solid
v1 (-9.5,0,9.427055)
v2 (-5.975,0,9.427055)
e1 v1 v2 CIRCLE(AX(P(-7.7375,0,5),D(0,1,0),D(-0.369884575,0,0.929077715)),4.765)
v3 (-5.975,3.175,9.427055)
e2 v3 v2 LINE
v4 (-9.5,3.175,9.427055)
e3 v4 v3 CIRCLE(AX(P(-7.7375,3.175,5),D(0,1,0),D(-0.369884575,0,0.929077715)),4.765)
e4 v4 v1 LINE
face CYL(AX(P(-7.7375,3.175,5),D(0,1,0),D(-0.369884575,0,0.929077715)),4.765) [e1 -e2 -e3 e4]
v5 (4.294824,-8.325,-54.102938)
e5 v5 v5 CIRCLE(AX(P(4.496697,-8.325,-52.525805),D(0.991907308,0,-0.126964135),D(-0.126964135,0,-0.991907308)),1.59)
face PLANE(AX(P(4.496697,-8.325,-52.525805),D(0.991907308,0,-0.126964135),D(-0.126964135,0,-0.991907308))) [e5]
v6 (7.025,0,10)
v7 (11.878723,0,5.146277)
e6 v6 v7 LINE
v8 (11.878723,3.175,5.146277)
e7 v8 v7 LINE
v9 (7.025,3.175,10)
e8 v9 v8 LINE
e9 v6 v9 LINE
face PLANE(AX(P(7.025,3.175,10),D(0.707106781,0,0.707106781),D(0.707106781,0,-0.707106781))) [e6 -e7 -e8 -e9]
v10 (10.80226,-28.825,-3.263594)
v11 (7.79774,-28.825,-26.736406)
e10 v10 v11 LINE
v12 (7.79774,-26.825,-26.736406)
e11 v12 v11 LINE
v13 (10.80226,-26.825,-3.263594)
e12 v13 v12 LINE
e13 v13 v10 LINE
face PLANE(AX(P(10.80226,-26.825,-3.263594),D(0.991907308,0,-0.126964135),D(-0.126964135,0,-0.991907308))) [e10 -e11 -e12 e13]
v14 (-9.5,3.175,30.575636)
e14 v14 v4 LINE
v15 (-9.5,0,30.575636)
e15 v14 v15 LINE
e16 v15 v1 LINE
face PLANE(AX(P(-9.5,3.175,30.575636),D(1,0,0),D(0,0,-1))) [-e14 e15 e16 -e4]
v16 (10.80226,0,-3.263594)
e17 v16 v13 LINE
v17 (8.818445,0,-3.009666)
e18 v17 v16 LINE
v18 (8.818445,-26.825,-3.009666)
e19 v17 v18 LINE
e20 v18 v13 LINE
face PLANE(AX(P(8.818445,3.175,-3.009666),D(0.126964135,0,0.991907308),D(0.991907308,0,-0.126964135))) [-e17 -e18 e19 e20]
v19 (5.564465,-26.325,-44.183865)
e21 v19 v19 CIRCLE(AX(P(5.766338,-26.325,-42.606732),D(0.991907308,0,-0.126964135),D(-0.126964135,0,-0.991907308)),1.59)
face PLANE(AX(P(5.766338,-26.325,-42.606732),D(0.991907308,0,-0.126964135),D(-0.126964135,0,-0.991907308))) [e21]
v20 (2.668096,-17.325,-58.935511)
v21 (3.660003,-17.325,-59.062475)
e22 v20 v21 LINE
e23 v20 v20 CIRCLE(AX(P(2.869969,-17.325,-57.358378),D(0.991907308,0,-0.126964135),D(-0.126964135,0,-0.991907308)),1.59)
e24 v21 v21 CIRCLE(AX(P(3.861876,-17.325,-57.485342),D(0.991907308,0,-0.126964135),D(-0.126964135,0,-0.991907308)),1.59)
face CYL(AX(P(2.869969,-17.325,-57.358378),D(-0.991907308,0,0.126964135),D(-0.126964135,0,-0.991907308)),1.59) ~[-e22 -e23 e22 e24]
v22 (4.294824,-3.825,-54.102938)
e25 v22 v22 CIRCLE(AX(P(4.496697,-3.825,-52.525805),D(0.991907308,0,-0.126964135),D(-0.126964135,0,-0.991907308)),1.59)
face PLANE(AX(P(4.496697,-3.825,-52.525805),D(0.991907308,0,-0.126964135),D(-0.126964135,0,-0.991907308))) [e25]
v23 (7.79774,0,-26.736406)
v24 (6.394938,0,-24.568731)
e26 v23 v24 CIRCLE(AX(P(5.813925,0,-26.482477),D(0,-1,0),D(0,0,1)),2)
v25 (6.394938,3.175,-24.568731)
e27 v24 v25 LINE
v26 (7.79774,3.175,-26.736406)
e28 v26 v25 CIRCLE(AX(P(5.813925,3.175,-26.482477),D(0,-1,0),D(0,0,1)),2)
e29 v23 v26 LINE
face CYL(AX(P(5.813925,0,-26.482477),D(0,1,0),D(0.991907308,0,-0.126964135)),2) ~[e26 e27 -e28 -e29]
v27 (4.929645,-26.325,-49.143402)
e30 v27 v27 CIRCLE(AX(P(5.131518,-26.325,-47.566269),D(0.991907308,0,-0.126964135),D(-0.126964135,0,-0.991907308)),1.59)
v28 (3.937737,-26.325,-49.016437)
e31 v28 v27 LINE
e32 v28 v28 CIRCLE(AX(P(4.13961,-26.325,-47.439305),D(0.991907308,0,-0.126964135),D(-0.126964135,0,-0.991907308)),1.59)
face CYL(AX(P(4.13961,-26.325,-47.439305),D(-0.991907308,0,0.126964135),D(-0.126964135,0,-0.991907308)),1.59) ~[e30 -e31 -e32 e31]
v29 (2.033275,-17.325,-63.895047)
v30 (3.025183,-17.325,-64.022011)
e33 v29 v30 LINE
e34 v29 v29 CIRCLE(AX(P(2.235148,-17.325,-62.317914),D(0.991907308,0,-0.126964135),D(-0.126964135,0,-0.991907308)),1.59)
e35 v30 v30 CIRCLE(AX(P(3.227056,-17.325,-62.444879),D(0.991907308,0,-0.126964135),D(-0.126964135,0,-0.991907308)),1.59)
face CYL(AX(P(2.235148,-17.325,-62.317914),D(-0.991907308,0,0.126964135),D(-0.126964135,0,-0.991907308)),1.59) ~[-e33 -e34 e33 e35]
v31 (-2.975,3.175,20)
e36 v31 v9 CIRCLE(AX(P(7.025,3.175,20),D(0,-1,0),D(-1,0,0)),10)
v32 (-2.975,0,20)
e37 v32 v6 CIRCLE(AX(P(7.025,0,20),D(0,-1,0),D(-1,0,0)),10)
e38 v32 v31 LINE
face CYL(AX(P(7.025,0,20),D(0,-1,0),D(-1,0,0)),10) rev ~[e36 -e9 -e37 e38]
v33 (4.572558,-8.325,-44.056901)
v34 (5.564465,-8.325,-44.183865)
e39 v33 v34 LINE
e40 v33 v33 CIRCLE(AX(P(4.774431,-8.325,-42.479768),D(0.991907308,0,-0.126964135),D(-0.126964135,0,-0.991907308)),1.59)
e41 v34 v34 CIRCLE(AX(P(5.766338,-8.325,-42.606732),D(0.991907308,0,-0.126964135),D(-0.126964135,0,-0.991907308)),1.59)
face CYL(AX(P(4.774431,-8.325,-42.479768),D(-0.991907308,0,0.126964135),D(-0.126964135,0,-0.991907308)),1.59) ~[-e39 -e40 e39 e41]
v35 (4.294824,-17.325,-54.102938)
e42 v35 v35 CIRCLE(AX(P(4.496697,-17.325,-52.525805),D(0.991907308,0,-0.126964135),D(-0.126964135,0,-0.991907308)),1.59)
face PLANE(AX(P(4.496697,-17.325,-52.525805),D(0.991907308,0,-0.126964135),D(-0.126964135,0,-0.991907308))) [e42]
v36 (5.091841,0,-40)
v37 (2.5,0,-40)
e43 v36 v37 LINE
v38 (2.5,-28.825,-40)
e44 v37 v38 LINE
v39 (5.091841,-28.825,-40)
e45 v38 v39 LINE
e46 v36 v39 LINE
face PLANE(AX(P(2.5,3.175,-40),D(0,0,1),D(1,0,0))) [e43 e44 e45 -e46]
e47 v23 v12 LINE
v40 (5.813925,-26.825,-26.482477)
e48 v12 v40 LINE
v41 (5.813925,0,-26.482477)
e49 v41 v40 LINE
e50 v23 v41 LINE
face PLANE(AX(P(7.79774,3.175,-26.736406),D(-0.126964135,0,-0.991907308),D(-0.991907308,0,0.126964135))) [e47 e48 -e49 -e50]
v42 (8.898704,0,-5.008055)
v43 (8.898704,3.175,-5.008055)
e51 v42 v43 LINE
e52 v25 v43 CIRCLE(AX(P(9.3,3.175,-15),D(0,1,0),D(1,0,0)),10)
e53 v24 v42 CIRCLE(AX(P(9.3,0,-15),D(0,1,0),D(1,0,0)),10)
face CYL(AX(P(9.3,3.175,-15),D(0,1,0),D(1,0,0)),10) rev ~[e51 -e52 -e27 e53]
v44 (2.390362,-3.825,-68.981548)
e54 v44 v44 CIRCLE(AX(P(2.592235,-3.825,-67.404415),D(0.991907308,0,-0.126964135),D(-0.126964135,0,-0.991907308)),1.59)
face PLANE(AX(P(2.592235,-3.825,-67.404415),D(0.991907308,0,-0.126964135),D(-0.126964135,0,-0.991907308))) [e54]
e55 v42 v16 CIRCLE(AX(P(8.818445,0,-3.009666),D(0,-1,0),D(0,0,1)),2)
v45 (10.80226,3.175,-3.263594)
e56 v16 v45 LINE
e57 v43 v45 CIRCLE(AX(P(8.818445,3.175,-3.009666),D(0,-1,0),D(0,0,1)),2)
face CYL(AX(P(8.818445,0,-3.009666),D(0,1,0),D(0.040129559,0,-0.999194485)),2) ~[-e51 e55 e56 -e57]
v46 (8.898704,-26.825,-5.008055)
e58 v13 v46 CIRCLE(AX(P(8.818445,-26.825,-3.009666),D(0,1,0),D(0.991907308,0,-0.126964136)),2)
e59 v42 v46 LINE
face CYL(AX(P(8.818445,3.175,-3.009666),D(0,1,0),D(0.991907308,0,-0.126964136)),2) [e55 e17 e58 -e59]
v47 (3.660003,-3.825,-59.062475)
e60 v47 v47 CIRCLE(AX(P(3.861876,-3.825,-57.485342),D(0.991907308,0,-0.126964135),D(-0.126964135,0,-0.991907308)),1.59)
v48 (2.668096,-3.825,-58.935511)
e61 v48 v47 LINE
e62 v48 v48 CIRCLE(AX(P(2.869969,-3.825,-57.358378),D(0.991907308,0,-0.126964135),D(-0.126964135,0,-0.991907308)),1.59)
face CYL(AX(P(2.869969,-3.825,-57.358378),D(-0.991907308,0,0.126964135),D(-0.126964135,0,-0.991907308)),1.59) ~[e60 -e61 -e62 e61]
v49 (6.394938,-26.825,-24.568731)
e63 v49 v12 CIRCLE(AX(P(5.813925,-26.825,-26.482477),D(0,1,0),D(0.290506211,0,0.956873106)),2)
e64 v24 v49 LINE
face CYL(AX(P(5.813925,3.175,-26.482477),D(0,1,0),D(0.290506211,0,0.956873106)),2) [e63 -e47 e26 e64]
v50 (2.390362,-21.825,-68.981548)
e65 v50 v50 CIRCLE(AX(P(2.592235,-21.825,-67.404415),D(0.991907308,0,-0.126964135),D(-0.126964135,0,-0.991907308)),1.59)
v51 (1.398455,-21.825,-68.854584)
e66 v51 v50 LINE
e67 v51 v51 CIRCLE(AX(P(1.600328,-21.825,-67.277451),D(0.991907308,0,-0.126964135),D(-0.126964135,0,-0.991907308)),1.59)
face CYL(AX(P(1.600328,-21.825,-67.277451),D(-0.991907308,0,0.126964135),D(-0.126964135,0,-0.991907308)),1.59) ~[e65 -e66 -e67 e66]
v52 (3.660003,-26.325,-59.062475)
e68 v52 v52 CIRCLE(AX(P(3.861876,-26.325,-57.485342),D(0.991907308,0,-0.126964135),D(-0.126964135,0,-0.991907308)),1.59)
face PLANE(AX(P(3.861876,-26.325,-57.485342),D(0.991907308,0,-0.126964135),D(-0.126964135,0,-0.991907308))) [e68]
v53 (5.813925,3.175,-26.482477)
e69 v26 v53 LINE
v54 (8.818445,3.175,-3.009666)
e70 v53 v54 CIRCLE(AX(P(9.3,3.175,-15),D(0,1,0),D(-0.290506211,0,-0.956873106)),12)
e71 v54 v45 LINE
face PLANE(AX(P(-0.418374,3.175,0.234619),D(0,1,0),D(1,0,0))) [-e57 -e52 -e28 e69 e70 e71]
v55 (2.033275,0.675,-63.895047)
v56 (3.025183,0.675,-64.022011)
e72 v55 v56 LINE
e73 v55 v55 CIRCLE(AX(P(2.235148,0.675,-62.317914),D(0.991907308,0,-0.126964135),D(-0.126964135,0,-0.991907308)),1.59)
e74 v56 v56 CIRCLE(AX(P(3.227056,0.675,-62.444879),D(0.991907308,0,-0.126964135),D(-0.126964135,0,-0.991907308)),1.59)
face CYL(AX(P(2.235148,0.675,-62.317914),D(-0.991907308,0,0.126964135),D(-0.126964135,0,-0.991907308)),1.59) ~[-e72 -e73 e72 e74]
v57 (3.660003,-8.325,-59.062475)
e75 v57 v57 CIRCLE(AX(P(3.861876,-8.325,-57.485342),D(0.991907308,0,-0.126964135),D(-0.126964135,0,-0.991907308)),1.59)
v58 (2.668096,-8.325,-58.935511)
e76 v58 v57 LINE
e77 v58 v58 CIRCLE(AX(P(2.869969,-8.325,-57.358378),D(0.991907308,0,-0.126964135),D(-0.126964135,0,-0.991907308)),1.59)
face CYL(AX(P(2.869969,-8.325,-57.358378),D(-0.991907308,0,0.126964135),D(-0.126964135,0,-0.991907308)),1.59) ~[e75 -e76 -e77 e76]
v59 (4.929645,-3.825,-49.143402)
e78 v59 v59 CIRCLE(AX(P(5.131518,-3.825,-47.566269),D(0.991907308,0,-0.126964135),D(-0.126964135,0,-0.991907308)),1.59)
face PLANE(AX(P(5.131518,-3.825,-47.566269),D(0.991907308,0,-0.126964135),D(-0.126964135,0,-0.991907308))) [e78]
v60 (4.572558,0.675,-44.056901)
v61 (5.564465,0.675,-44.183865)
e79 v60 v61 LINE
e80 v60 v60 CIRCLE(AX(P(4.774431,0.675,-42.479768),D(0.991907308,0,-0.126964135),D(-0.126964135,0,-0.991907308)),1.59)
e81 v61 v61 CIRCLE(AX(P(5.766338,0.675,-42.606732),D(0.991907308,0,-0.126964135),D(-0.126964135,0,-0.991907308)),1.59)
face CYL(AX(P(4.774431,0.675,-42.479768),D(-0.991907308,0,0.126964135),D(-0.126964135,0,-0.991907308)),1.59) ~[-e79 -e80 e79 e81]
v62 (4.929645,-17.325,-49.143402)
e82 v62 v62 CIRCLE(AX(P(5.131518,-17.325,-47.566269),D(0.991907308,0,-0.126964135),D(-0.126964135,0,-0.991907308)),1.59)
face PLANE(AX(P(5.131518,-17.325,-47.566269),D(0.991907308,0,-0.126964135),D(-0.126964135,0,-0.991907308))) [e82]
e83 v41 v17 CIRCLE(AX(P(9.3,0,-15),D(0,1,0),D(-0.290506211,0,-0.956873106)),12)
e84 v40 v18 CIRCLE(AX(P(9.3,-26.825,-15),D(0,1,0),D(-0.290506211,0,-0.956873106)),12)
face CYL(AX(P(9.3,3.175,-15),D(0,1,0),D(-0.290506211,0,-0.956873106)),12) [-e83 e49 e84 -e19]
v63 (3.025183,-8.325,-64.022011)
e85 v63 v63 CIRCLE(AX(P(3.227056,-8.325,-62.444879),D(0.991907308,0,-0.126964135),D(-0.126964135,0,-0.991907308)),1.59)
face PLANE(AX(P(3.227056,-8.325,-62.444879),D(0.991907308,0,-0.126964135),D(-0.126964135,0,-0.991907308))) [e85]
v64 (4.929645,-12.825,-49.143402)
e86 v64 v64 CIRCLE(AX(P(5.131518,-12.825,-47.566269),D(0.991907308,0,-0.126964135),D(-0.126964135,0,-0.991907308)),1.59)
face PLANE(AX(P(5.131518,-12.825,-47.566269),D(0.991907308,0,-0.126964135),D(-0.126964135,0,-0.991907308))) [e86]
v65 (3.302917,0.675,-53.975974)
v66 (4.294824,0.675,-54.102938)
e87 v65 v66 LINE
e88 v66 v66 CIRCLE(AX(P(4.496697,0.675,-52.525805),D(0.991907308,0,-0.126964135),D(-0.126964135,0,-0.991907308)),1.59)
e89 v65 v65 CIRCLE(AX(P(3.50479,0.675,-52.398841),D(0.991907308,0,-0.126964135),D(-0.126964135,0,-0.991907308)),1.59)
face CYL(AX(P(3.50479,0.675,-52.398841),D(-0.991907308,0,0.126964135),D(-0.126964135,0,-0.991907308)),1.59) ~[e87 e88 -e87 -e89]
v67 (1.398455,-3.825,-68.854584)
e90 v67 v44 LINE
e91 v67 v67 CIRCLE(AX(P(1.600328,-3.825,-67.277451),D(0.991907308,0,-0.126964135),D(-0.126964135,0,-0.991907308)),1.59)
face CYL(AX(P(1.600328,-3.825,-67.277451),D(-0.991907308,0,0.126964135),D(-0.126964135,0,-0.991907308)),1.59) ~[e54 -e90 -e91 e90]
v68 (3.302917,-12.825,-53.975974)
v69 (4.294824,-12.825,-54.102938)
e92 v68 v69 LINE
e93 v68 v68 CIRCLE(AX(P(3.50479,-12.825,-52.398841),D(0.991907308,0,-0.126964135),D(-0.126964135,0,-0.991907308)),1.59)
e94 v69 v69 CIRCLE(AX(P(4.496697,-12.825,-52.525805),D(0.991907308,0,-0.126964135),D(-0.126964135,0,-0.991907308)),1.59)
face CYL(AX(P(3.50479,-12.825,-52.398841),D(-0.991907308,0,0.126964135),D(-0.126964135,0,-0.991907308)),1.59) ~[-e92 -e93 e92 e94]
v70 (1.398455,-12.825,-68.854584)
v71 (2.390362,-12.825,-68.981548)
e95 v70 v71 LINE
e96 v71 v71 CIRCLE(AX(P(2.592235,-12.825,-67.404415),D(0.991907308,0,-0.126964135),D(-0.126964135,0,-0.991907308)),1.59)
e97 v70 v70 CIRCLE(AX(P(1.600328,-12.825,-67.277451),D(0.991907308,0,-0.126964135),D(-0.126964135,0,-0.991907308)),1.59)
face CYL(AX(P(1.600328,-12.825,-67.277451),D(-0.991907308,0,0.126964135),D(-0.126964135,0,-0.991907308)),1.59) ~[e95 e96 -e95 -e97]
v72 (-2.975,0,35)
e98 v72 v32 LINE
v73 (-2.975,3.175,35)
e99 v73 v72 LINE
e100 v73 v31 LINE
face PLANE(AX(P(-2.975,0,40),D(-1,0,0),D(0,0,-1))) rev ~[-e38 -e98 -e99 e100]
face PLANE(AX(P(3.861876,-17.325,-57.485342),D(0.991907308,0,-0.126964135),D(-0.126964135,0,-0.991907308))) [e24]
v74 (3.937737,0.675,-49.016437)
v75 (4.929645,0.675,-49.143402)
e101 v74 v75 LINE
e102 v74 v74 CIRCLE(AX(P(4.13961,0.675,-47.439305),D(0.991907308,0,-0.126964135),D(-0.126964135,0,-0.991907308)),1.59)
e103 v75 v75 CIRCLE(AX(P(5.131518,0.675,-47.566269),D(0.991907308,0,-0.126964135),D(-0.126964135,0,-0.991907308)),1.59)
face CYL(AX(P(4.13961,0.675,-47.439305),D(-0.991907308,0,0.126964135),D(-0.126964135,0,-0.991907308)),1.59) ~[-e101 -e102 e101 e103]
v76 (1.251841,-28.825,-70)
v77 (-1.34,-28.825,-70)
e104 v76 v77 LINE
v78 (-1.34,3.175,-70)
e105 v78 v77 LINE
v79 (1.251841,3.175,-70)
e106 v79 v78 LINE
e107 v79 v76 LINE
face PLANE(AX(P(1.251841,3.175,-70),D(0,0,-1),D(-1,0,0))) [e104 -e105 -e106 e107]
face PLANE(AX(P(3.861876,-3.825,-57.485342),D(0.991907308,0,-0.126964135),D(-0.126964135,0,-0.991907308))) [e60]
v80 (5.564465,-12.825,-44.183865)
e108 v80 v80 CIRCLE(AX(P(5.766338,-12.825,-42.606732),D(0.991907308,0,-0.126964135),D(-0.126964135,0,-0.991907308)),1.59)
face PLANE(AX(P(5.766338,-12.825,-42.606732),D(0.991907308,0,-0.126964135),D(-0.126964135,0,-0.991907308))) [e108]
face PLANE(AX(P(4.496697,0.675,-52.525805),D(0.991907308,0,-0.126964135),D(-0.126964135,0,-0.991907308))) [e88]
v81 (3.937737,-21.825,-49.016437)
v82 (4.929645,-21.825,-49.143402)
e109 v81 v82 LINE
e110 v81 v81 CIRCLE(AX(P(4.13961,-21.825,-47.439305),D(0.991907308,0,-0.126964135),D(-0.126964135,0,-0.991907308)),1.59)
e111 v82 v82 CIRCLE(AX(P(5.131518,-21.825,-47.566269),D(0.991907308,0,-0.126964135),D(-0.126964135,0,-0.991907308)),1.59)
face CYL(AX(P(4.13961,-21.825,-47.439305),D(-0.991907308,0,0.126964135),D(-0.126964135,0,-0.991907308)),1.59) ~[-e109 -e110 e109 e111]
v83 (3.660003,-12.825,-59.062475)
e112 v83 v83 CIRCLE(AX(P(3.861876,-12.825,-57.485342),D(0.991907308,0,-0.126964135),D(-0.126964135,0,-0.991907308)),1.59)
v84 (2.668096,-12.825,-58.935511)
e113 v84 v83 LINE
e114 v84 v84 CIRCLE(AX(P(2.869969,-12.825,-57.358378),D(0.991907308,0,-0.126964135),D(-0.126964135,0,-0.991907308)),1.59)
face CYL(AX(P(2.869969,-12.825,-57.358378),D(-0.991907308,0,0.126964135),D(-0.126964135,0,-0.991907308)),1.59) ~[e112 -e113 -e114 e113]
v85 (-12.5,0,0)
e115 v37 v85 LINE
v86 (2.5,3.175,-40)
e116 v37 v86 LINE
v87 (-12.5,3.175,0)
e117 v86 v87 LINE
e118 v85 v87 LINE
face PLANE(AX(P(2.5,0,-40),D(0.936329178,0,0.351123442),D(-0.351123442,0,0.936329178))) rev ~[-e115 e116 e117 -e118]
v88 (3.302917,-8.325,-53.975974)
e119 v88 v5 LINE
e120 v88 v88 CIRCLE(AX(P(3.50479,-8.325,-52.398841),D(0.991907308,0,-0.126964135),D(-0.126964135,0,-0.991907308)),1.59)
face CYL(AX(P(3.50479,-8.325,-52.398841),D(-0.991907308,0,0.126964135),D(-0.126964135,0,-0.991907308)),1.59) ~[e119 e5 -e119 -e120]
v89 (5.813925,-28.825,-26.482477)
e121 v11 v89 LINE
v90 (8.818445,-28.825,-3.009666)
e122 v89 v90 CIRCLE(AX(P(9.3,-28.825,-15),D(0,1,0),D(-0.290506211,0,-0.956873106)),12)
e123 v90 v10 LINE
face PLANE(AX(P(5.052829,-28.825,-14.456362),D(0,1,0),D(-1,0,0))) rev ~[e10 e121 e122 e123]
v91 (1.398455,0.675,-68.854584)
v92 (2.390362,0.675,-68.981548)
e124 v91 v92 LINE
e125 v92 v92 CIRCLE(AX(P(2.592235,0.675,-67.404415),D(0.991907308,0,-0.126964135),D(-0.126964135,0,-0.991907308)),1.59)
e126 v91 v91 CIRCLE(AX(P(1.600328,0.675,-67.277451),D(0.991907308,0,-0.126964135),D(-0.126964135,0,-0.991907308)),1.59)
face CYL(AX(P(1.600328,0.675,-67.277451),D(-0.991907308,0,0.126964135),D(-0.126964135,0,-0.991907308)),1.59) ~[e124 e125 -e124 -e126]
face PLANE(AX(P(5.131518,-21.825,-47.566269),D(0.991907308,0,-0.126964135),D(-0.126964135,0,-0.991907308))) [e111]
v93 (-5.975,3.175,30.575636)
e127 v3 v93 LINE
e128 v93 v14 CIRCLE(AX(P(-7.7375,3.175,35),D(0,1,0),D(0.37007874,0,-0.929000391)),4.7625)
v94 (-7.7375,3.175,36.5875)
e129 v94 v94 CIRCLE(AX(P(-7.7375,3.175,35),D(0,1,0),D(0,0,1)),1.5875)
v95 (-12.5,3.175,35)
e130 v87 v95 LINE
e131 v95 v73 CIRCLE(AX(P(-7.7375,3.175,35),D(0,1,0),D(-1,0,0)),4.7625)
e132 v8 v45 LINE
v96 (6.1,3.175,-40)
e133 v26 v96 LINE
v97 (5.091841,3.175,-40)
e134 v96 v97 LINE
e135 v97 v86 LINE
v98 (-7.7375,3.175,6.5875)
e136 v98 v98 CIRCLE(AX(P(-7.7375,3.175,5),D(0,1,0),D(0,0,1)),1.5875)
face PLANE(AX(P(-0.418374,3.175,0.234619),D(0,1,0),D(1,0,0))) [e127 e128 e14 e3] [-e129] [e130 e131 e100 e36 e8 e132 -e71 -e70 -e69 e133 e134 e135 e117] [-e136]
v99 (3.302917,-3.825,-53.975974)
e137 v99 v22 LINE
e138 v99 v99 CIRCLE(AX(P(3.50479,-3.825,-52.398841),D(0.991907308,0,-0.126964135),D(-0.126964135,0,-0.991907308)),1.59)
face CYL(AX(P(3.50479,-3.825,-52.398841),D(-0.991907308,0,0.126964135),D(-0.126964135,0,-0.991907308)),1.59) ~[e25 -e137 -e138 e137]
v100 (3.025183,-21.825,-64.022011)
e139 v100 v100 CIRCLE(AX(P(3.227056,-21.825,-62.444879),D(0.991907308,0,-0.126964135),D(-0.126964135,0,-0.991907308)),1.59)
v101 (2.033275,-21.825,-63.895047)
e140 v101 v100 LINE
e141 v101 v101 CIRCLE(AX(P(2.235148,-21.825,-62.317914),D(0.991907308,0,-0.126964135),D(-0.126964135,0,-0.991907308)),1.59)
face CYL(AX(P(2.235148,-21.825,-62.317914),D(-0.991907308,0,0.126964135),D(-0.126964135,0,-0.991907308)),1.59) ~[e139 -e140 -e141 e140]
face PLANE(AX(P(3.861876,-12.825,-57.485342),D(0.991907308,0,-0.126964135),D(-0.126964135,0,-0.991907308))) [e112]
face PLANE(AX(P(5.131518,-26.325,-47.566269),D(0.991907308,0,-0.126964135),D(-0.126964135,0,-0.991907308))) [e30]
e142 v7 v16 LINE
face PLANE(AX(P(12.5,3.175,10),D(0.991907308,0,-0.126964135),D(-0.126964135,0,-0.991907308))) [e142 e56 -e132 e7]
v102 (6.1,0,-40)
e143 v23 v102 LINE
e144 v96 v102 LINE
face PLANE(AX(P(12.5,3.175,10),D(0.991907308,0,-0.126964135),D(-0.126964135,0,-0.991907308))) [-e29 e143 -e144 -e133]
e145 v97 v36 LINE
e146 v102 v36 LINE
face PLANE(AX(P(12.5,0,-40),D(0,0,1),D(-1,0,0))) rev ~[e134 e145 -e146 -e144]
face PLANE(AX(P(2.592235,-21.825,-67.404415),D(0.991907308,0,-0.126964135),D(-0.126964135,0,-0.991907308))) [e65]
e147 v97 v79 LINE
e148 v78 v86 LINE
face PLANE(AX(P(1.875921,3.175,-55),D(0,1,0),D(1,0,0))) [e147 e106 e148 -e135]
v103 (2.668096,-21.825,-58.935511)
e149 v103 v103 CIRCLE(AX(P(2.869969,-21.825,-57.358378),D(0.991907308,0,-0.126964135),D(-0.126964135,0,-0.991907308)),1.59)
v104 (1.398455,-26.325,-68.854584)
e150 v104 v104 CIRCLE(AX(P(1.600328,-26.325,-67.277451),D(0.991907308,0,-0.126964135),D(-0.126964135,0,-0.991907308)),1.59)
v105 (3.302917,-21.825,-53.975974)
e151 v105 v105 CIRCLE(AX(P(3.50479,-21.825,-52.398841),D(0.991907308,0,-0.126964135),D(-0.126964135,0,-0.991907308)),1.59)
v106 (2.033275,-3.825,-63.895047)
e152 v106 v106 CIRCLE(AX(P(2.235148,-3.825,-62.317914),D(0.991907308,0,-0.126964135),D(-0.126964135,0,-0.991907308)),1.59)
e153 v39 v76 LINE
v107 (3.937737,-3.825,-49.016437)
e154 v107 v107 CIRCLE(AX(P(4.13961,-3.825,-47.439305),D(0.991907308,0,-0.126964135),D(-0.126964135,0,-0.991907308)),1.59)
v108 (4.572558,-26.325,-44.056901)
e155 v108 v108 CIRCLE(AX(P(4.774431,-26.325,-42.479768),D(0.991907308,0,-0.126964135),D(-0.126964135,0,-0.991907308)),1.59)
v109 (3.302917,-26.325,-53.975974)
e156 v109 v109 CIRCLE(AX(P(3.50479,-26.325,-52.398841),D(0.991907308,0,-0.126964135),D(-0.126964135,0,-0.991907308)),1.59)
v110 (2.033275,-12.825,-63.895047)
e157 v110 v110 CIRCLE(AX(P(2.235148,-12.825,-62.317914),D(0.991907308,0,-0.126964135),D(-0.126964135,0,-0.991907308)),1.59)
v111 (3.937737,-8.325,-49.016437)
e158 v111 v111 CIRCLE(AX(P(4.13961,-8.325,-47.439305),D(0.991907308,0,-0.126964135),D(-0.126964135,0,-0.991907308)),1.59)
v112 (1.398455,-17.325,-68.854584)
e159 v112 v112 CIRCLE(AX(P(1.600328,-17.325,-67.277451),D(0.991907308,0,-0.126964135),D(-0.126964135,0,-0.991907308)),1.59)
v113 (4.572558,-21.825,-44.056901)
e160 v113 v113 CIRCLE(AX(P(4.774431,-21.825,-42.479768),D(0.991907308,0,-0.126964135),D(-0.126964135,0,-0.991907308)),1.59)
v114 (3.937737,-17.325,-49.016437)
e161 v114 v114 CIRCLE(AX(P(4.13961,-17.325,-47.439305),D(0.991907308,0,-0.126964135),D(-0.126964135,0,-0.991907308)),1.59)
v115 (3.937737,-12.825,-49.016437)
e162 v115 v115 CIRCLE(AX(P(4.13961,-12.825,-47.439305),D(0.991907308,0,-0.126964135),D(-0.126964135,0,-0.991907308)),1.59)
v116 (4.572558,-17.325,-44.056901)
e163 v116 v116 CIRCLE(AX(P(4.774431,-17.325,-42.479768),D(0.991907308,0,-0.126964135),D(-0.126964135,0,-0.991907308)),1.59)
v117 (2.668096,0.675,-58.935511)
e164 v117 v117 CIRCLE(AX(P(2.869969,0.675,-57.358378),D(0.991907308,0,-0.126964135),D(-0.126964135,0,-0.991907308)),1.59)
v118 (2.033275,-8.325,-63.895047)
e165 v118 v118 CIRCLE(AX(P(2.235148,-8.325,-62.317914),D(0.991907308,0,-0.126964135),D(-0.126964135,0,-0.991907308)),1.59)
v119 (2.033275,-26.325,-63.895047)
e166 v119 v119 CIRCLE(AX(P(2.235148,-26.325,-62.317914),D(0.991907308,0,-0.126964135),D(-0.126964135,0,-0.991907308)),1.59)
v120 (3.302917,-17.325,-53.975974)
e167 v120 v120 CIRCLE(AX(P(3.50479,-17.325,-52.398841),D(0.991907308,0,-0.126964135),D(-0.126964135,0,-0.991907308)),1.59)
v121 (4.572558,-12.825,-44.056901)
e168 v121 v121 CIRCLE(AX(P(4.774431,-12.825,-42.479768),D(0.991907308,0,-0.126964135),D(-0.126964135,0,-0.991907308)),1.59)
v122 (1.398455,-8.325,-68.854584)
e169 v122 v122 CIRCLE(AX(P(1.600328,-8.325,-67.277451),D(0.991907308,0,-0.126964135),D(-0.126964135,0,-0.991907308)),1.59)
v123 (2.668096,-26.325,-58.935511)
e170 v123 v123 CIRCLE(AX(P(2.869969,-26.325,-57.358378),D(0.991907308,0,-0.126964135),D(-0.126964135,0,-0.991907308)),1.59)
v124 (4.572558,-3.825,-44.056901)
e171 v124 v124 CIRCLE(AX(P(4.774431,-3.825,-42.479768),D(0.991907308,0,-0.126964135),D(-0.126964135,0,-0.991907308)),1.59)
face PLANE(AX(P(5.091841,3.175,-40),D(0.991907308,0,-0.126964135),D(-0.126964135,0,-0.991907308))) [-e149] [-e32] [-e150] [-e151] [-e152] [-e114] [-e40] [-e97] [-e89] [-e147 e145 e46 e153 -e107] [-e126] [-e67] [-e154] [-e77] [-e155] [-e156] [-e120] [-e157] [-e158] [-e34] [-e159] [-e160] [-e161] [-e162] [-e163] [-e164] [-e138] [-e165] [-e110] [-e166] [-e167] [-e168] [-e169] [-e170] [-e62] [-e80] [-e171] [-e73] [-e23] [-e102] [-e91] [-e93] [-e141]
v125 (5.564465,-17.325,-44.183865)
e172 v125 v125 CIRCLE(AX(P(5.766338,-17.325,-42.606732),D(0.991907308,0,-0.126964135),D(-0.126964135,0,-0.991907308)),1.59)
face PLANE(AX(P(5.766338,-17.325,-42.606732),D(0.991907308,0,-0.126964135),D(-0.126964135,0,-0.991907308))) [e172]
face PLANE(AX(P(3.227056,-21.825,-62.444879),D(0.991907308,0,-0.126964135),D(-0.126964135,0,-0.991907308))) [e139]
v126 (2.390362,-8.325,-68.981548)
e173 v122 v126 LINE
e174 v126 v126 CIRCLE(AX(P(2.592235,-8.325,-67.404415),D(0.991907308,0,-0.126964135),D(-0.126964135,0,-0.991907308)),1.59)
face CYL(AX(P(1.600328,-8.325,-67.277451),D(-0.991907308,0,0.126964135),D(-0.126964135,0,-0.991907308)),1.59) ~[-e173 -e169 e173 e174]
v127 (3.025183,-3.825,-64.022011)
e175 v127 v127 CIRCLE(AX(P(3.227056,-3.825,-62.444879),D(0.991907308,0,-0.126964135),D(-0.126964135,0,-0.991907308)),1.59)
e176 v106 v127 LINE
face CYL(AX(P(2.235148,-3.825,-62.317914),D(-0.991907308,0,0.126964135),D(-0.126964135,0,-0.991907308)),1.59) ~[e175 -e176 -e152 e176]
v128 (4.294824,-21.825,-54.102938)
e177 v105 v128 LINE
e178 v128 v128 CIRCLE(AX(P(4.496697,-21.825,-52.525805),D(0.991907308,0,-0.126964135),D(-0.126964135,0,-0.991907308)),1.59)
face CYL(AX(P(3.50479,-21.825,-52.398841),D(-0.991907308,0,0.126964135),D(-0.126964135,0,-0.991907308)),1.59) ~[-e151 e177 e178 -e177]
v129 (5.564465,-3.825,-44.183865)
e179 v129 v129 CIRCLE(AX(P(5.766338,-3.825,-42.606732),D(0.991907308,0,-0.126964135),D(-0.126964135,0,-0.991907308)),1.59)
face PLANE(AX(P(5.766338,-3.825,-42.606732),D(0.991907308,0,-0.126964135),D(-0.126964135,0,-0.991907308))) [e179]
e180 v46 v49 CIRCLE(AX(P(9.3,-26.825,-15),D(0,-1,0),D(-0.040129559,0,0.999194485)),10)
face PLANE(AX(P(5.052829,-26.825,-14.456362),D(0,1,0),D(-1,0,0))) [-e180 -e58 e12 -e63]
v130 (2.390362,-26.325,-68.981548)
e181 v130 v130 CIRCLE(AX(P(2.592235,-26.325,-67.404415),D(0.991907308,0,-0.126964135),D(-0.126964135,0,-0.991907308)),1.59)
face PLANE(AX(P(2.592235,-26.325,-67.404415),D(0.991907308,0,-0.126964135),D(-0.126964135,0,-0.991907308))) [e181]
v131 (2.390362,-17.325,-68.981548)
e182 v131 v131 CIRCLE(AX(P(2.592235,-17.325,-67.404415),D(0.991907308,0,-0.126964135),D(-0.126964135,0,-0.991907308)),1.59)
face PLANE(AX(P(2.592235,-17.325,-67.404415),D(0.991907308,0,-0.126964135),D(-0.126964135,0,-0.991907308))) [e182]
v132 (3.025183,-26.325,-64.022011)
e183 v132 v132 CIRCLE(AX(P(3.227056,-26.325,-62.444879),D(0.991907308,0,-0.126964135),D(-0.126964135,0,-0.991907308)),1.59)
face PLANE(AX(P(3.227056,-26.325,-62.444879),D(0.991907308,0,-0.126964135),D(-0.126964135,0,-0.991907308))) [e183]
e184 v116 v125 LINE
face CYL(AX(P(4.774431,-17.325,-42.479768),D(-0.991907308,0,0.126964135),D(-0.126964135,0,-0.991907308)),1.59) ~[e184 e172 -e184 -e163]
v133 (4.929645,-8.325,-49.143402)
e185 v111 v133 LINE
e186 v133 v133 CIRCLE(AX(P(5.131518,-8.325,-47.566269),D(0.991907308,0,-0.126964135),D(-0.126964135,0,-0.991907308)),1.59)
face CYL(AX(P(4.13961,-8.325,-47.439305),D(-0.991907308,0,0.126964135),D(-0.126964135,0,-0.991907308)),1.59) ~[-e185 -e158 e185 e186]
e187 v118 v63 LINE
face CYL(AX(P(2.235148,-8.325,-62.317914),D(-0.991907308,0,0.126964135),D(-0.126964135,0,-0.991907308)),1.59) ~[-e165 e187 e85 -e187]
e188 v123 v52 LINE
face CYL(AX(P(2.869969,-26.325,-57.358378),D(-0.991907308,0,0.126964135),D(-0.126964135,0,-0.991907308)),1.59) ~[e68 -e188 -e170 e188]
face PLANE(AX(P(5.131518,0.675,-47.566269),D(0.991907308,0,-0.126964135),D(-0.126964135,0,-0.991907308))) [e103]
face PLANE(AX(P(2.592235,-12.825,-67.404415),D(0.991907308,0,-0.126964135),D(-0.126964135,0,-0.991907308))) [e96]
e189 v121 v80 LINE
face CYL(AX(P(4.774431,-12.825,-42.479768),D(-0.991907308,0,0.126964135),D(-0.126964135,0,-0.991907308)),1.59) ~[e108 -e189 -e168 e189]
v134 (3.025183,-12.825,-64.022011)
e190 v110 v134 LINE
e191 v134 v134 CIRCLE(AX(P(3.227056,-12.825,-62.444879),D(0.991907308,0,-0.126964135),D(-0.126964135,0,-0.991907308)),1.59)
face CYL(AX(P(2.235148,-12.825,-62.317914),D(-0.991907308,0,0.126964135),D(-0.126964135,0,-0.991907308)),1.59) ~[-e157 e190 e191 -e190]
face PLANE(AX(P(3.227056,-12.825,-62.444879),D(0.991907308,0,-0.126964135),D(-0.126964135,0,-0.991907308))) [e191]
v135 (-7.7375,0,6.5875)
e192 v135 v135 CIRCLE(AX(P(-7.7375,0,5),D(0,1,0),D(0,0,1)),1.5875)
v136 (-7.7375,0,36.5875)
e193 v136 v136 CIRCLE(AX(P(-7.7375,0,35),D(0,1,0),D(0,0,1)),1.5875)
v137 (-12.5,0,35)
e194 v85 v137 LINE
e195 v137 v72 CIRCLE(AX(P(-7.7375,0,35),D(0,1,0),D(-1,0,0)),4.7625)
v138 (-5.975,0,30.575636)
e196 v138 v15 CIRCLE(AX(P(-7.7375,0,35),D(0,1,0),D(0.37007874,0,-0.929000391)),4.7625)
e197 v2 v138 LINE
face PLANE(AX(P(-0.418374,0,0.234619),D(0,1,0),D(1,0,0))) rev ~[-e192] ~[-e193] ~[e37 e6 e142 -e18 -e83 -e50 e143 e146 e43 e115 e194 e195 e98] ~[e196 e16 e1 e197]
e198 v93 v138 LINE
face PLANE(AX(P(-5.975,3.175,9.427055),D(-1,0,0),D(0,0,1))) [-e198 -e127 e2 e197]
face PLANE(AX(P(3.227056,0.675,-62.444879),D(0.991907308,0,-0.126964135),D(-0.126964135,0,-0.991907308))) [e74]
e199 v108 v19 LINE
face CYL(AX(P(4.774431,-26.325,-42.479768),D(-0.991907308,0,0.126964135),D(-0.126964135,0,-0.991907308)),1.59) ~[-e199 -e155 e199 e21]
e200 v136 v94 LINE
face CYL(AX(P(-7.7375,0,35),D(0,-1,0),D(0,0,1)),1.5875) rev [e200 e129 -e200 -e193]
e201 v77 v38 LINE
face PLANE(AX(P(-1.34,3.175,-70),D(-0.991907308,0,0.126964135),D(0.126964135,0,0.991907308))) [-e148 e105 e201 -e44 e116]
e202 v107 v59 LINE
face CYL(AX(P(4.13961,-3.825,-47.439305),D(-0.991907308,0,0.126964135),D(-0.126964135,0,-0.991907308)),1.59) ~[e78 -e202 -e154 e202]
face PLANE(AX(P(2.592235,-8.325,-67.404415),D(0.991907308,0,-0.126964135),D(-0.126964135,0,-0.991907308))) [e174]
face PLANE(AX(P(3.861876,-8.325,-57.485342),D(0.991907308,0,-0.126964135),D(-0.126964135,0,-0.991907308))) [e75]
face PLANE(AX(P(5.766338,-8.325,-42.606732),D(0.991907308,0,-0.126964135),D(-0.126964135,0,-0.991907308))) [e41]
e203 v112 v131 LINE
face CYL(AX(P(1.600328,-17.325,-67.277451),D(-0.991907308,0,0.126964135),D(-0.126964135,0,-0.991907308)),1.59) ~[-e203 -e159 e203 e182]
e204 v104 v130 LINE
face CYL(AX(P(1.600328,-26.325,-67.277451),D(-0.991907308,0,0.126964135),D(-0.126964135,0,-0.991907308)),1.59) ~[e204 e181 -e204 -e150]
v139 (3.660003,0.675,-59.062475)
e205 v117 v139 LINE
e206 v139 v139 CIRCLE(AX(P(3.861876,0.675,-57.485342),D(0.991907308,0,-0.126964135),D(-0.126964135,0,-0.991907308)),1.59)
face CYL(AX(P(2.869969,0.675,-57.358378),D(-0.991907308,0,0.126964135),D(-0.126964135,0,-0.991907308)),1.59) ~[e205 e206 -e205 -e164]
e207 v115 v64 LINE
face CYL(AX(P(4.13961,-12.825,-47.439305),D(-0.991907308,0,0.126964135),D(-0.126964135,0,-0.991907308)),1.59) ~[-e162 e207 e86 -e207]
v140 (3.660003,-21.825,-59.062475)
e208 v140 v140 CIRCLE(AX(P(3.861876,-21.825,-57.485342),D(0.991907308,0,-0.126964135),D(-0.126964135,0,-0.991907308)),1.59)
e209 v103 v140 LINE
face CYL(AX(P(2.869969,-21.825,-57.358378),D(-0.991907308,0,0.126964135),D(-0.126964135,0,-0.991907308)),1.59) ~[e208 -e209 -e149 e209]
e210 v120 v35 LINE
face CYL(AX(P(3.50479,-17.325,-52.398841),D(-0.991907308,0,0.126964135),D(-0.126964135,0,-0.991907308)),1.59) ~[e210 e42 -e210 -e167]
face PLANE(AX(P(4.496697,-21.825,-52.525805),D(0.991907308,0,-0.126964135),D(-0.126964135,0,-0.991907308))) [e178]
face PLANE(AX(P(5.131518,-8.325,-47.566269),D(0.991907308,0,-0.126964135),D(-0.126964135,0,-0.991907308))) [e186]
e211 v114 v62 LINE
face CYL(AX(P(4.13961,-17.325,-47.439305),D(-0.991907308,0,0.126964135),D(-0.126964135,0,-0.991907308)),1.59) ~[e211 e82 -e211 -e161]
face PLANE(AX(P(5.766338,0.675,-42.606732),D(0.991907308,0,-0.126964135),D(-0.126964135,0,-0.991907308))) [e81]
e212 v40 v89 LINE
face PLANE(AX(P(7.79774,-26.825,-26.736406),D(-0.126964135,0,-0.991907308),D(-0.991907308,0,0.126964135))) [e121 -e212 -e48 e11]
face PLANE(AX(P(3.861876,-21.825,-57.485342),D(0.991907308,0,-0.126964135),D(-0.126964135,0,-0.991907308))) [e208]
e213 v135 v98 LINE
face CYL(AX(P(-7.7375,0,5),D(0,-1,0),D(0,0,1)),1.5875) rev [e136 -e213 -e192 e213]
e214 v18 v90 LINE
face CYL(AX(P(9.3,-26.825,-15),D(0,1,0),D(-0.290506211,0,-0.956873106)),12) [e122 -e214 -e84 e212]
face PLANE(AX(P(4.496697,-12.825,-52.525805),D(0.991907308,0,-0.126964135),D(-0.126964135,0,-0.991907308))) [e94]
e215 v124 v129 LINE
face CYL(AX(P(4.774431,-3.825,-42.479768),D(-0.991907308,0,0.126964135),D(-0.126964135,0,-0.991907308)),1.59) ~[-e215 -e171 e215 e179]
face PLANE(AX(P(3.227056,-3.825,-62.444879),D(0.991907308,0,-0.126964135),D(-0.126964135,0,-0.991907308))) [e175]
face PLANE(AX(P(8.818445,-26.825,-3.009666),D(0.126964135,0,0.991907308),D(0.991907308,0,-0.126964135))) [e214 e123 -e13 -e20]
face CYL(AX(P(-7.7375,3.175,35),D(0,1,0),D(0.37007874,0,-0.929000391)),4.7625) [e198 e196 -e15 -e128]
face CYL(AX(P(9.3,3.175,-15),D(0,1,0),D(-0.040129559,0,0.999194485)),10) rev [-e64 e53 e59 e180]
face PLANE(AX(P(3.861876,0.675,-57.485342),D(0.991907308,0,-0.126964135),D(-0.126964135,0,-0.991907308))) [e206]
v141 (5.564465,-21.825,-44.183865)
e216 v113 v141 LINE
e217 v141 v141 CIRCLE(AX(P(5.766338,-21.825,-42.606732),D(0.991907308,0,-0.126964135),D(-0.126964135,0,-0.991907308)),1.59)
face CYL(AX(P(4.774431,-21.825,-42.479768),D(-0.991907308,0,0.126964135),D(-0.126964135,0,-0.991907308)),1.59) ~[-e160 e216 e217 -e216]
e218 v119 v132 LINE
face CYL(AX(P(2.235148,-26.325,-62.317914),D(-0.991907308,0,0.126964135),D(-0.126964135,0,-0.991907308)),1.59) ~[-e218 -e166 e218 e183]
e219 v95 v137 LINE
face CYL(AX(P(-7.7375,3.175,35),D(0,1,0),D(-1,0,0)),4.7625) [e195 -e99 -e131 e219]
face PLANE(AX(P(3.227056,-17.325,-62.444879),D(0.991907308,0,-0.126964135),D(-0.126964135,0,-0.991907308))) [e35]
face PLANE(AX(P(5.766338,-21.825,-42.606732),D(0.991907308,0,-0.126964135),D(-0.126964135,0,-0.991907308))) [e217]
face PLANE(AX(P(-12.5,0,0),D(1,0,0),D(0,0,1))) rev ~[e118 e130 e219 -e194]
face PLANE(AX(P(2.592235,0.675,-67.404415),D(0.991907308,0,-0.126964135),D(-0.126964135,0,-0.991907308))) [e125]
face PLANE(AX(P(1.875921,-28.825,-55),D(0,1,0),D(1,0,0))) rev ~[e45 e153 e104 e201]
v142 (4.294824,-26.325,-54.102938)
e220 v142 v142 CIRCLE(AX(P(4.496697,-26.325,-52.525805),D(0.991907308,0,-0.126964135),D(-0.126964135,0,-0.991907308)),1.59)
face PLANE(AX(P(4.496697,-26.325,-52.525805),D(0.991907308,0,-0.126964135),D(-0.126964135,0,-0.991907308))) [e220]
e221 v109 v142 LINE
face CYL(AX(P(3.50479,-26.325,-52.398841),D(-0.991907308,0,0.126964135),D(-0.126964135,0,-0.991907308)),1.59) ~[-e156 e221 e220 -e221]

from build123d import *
from build123d.topology import SkipClean

# Parameters (mm, degrees)
CROQUIS1_R              = 1.5875
SALIENTE_EXTRUIR1_DEPTH = 3.175
CORTAR_EXTRUIR1_DEPTH   = 3.175
CORTAR_EXTRUIR3_DEPTH   = 10
CROQUIS5_R              = 10
CORTAR_EXTRUIR8_DEPTH   = 10
REDONDEO2_R             = 2
BOSS_EXTRUDE1_DEPTH     = 30
BOSS_EXTRUDE2_DEPTH     = 2
BOSS_EXTRUDE3_DEPTH     = 32
SKETCH6_R               = 1.59
BOSS_EXTRUDE5_DEPTH     = 1


with BuildPart() as part:
    # Croquis1 → Saliente-Extruir1 (new body)
    with BuildSketch(Plane(origin=(0, 0, 0), x_dir=(1, 0, 0), z_dir=(0, 1, 0))):
        with BuildLine():
            Line((-12.5, 0), (-12.5, -40))
            Line((-12.5, -40), (-2.975, -40))
            Line((-2.975, -40), (-2.975, -20))
            ThreePointArc((-2.975, -20), (-0.046067812, -12.928932188), (7.025, -10))
            Line((7.025, -10), (12.5, -10))
            Line((12.5, -10), (12.5, 40))
            Line((12.5, 40), (2.5, 40))
            Line((2.5, 40), (-12.5, 0))
        make_face()
        with Locations(Location((-7.7375, -5, 0), (0, 0, 270))):
            Circle(CROQUIS1_R, mode=Mode.SUBTRACT)
        with Locations(Location((-7.7375, -35, 0), (0, 0, 270))):
            Circle(CROQUIS1_R, mode=Mode.SUBTRACT)
    extrude(amount=SALIENTE_EXTRUIR1_DEPTH)

    # Croquis2 → Cortar-Extruir1 (cut)
    with BuildSketch(Plane(origin=(0, 3.175, 0), x_dir=(1, 0, 0), z_dir=(0, 1, 0))):
        Polygon((12.5, -10), (6.1, 40), (12.5, 40), align=None)
    extrude(amount=-CORTAR_EXTRUIR1_DEPTH, mode=Mode.SUBTRACT)

    # Croquis3 → Cortar-Extruir3 (cut)
    with BuildSketch(Plane(origin=(0, 3.175, 0), x_dir=(1, 0, 0), z_dir=(0, 1, 0))):
        with BuildLine():
            ThreePointArc((-5.975, -30.575635639), (-7.7375, -30.2375), (-9.5, -30.575635639))
            Line((-9.5, -30.575635639), (-9.5, -9.427055314))
            ThreePointArc((-9.5, -9.427055314), (-7.7375, -9.765), (-5.975, -9.427055314))
            Line((-5.975, -9.427055314), (-5.975, -14.803847577))
            Line((-5.975, -14.803847577), (-5.975, -30.575635639))
        make_face()
        with BuildLine():
            ThreePointArc((-12.5, -35), (-7.7375, -39.7625), (-2.975, -35))
            Line((-2.975, -35), (-2.975, -40))
            Line((-2.975, -40), (-12.5, -40))
            Line((-12.5, -40), (-12.5, -35))
        make_face()
    extrude(amount=-CORTAR_EXTRUIR3_DEPTH, mode=Mode.SUBTRACT)

    # Croquis5 → Cortar-Extruir8 (cut)
    with BuildSketch(Plane(origin=(0, 3.175, 0), x_dir=(1, 0, 0), z_dir=(0, 1, 0))):
        with Locations((9.3, 15)):
            Circle(CROQUIS5_R)
        Polygon((7.025, -10), (11.878723404, -5.146276596), (12.5, -10), align=None)
    extrude(amount=-CORTAR_EXTRUIR8_DEPTH, mode=Mode.SUBTRACT)

    # Redondeo2
    redondeo2_edges = [part.edges().sort_by_distance(p)[0] for p in [
        (8.030358645, 1.5875, -24.919073083),
        (10.569641355, 1.5875, -5.080926917),
    ]]
    fillet(redondeo2_edges, radius=REDONDEO2_R)

    # Sketch1 → Boss-Extrude1 (add)
    with SkipClean():  # the faces are left unmerged after this step: merging them gives an invalid solid
        with BuildSketch(Plane(origin=(0, 3.175, 0), x_dir=(1, 0, 0), z_dir=(0, 1, 0))):
            with BuildLine():
                Line((7.79774009, 26.736405547), (5.813925473, 26.482477276))
                ThreePointArc((5.813925473, 26.482477276), (-2.6028877, 13.476430374), (8.818445293, 3.009666182))
                Line((8.818445293, 3.009666182), (10.80225991, 3.263594453))
                ThreePointArc((10.80225991, 3.263594453), (10.16969874, 4.484153931), (8.898704411, 5.008055152))
                ThreePointArc((8.898704411, 5.008055152), (-0.619073083, 13.730358645), (6.394937894, 24.568731063))
                ThreePointArc((6.394937894, 24.568731063), (7.492998908, 25.395871368), (7.79774009, 26.736405547))
            make_face()
        extrude(amount=-BOSS_EXTRUDE1_DEPTH)

    # Sketch2 → Boss-Extrude2 (add)
    with SkipClean():  # the faces are left unmerged after this step: merging them gives an invalid solid
        with BuildSketch(Plane.XZ.offset(26.825)):
            with BuildLine():
                Line((10.80225991, -3.263594453), (7.79774009, -26.736405547))
                Line((7.79774009, -26.736405547), (5.813925473, -26.482477276))
                ThreePointArc((5.813925473, -26.482477276), (-2.6028877, -13.476430374), (8.818445293, -3.009666182))
                Line((8.818445293, -3.009666182), (10.80225991, -3.263594453))
            make_face()
        extrude(amount=BOSS_EXTRUDE2_DEPTH)

    # Sketch3 → Boss-Extrude3 (add)
    with SkipClean():  # the faces are left unmerged after this step: merging them gives an invalid solid
        with BuildSketch(Plane(origin=(0, 3.175, 0), x_dir=(1, 0, 0), z_dir=(0, 1, 0))):
            Polygon((1.251841282, 70), (-1.34, 70), (2.5, 40), (5.091841282, 40), align=None)
        extrude(amount=-BOSS_EXTRUDE3_DEPTH)

    # Sketch6 → Boss-Extrude5 (add)
    with SkipClean():  # the faces are left unmerged after this step: merging them gives an invalid solid
        with BuildSketch(Plane(origin=(10.047227507, 0, -1.286045121), x_dir=(-0.12696413546540525, 0, -0.9919073083234756), z_dir=(0.9919073083234756, 0, -0.12696413546540525))):
            with Locations((41.529811107, -26.325)):
                Circle(SKETCH6_R)
            with Locations((46.529811107, -26.325)):
                Circle(SKETCH6_R)
            with Locations((51.529811107, -26.325)):
                Circle(SKETCH6_R)
            with Locations((56.529811107, -26.325)):
                Circle(SKETCH6_R)
            with Locations((61.529811107, -26.325)):
                Circle(SKETCH6_R)
            with Locations((66.529811107, -26.325)):
                Circle(SKETCH6_R)
            with Locations((46.529811107, -21.825)):
                Circle(SKETCH6_R)
            with Locations((51.529811107, -21.825)):
                Circle(SKETCH6_R)
            with Locations((56.529811107, -21.825)):
                Circle(SKETCH6_R)
            with Locations((61.529811107, -21.825)):
                Circle(SKETCH6_R)
            with Locations((66.529811107, -21.825)):
                Circle(SKETCH6_R)
            with Locations((46.529811107, -17.325)):
                Circle(SKETCH6_R)
            with Locations((51.529811107, -17.325)):
                Circle(SKETCH6_R)
            with Locations((56.529811107, -17.325)):
                Circle(SKETCH6_R)
            with Locations((61.529811107, -17.325)):
                Circle(SKETCH6_R)
            with Locations((66.529811107, -17.325)):
                Circle(SKETCH6_R)
            with Locations((46.529811107, -12.825)):
                Circle(SKETCH6_R)
            with Locations((51.529811107, -12.825)):
                Circle(SKETCH6_R)
            with Locations((56.529811107, -12.825)):
                Circle(SKETCH6_R)
            with Locations((61.529811107, -12.825)):
                Circle(SKETCH6_R)
            with Locations((66.529811107, -12.825)):
                Circle(SKETCH6_R)
            with Locations((46.529811107, -8.325)):
                Circle(SKETCH6_R)
            with Locations((51.529811107, -8.325)):
                Circle(SKETCH6_R)
            with Locations((56.529811107, -8.325)):
                Circle(SKETCH6_R)
            with Locations((61.529811107, -8.325)):
                Circle(SKETCH6_R)
            with Locations((66.529811107, -8.325)):
                Circle(SKETCH6_R)
            with Locations((46.529811107, -3.825)):
                Circle(SKETCH6_R)
            with Locations((51.529811107, -3.825)):
                Circle(SKETCH6_R)
            with Locations((56.529811107, -3.825)):
                Circle(SKETCH6_R)
            with Locations((61.529811107, -3.825)):
                Circle(SKETCH6_R)
            with Locations((66.529811107, -3.825)):
                Circle(SKETCH6_R)
            with Locations((46.529811107, 0.675)):
                Circle(SKETCH6_R)
            with Locations((51.529811107, 0.675)):
                Circle(SKETCH6_R)
            with Locations((56.529811107, 0.675)):
                Circle(SKETCH6_R)
            with Locations((61.529811107, 0.675)):
                Circle(SKETCH6_R)
            with Locations((66.529811107, 0.675)):
                Circle(SKETCH6_R)
            with Locations((41.529811107, -21.825)):
                Circle(SKETCH6_R)
            with Locations((41.529811107, -17.325)):
                Circle(SKETCH6_R)
            with Locations((41.529811107, -12.825)):
                Circle(SKETCH6_R)
            with Locations((41.529811107, -8.325)):
                Circle(SKETCH6_R)
            with Locations((41.529811107, -3.825)):
                Circle(SKETCH6_R)
            with Locations((41.529811107, 0.675)):
                Circle(SKETCH6_R)
        extrude(amount=BOSS_EXTRUDE5_DEPTH)


solid = part.part
